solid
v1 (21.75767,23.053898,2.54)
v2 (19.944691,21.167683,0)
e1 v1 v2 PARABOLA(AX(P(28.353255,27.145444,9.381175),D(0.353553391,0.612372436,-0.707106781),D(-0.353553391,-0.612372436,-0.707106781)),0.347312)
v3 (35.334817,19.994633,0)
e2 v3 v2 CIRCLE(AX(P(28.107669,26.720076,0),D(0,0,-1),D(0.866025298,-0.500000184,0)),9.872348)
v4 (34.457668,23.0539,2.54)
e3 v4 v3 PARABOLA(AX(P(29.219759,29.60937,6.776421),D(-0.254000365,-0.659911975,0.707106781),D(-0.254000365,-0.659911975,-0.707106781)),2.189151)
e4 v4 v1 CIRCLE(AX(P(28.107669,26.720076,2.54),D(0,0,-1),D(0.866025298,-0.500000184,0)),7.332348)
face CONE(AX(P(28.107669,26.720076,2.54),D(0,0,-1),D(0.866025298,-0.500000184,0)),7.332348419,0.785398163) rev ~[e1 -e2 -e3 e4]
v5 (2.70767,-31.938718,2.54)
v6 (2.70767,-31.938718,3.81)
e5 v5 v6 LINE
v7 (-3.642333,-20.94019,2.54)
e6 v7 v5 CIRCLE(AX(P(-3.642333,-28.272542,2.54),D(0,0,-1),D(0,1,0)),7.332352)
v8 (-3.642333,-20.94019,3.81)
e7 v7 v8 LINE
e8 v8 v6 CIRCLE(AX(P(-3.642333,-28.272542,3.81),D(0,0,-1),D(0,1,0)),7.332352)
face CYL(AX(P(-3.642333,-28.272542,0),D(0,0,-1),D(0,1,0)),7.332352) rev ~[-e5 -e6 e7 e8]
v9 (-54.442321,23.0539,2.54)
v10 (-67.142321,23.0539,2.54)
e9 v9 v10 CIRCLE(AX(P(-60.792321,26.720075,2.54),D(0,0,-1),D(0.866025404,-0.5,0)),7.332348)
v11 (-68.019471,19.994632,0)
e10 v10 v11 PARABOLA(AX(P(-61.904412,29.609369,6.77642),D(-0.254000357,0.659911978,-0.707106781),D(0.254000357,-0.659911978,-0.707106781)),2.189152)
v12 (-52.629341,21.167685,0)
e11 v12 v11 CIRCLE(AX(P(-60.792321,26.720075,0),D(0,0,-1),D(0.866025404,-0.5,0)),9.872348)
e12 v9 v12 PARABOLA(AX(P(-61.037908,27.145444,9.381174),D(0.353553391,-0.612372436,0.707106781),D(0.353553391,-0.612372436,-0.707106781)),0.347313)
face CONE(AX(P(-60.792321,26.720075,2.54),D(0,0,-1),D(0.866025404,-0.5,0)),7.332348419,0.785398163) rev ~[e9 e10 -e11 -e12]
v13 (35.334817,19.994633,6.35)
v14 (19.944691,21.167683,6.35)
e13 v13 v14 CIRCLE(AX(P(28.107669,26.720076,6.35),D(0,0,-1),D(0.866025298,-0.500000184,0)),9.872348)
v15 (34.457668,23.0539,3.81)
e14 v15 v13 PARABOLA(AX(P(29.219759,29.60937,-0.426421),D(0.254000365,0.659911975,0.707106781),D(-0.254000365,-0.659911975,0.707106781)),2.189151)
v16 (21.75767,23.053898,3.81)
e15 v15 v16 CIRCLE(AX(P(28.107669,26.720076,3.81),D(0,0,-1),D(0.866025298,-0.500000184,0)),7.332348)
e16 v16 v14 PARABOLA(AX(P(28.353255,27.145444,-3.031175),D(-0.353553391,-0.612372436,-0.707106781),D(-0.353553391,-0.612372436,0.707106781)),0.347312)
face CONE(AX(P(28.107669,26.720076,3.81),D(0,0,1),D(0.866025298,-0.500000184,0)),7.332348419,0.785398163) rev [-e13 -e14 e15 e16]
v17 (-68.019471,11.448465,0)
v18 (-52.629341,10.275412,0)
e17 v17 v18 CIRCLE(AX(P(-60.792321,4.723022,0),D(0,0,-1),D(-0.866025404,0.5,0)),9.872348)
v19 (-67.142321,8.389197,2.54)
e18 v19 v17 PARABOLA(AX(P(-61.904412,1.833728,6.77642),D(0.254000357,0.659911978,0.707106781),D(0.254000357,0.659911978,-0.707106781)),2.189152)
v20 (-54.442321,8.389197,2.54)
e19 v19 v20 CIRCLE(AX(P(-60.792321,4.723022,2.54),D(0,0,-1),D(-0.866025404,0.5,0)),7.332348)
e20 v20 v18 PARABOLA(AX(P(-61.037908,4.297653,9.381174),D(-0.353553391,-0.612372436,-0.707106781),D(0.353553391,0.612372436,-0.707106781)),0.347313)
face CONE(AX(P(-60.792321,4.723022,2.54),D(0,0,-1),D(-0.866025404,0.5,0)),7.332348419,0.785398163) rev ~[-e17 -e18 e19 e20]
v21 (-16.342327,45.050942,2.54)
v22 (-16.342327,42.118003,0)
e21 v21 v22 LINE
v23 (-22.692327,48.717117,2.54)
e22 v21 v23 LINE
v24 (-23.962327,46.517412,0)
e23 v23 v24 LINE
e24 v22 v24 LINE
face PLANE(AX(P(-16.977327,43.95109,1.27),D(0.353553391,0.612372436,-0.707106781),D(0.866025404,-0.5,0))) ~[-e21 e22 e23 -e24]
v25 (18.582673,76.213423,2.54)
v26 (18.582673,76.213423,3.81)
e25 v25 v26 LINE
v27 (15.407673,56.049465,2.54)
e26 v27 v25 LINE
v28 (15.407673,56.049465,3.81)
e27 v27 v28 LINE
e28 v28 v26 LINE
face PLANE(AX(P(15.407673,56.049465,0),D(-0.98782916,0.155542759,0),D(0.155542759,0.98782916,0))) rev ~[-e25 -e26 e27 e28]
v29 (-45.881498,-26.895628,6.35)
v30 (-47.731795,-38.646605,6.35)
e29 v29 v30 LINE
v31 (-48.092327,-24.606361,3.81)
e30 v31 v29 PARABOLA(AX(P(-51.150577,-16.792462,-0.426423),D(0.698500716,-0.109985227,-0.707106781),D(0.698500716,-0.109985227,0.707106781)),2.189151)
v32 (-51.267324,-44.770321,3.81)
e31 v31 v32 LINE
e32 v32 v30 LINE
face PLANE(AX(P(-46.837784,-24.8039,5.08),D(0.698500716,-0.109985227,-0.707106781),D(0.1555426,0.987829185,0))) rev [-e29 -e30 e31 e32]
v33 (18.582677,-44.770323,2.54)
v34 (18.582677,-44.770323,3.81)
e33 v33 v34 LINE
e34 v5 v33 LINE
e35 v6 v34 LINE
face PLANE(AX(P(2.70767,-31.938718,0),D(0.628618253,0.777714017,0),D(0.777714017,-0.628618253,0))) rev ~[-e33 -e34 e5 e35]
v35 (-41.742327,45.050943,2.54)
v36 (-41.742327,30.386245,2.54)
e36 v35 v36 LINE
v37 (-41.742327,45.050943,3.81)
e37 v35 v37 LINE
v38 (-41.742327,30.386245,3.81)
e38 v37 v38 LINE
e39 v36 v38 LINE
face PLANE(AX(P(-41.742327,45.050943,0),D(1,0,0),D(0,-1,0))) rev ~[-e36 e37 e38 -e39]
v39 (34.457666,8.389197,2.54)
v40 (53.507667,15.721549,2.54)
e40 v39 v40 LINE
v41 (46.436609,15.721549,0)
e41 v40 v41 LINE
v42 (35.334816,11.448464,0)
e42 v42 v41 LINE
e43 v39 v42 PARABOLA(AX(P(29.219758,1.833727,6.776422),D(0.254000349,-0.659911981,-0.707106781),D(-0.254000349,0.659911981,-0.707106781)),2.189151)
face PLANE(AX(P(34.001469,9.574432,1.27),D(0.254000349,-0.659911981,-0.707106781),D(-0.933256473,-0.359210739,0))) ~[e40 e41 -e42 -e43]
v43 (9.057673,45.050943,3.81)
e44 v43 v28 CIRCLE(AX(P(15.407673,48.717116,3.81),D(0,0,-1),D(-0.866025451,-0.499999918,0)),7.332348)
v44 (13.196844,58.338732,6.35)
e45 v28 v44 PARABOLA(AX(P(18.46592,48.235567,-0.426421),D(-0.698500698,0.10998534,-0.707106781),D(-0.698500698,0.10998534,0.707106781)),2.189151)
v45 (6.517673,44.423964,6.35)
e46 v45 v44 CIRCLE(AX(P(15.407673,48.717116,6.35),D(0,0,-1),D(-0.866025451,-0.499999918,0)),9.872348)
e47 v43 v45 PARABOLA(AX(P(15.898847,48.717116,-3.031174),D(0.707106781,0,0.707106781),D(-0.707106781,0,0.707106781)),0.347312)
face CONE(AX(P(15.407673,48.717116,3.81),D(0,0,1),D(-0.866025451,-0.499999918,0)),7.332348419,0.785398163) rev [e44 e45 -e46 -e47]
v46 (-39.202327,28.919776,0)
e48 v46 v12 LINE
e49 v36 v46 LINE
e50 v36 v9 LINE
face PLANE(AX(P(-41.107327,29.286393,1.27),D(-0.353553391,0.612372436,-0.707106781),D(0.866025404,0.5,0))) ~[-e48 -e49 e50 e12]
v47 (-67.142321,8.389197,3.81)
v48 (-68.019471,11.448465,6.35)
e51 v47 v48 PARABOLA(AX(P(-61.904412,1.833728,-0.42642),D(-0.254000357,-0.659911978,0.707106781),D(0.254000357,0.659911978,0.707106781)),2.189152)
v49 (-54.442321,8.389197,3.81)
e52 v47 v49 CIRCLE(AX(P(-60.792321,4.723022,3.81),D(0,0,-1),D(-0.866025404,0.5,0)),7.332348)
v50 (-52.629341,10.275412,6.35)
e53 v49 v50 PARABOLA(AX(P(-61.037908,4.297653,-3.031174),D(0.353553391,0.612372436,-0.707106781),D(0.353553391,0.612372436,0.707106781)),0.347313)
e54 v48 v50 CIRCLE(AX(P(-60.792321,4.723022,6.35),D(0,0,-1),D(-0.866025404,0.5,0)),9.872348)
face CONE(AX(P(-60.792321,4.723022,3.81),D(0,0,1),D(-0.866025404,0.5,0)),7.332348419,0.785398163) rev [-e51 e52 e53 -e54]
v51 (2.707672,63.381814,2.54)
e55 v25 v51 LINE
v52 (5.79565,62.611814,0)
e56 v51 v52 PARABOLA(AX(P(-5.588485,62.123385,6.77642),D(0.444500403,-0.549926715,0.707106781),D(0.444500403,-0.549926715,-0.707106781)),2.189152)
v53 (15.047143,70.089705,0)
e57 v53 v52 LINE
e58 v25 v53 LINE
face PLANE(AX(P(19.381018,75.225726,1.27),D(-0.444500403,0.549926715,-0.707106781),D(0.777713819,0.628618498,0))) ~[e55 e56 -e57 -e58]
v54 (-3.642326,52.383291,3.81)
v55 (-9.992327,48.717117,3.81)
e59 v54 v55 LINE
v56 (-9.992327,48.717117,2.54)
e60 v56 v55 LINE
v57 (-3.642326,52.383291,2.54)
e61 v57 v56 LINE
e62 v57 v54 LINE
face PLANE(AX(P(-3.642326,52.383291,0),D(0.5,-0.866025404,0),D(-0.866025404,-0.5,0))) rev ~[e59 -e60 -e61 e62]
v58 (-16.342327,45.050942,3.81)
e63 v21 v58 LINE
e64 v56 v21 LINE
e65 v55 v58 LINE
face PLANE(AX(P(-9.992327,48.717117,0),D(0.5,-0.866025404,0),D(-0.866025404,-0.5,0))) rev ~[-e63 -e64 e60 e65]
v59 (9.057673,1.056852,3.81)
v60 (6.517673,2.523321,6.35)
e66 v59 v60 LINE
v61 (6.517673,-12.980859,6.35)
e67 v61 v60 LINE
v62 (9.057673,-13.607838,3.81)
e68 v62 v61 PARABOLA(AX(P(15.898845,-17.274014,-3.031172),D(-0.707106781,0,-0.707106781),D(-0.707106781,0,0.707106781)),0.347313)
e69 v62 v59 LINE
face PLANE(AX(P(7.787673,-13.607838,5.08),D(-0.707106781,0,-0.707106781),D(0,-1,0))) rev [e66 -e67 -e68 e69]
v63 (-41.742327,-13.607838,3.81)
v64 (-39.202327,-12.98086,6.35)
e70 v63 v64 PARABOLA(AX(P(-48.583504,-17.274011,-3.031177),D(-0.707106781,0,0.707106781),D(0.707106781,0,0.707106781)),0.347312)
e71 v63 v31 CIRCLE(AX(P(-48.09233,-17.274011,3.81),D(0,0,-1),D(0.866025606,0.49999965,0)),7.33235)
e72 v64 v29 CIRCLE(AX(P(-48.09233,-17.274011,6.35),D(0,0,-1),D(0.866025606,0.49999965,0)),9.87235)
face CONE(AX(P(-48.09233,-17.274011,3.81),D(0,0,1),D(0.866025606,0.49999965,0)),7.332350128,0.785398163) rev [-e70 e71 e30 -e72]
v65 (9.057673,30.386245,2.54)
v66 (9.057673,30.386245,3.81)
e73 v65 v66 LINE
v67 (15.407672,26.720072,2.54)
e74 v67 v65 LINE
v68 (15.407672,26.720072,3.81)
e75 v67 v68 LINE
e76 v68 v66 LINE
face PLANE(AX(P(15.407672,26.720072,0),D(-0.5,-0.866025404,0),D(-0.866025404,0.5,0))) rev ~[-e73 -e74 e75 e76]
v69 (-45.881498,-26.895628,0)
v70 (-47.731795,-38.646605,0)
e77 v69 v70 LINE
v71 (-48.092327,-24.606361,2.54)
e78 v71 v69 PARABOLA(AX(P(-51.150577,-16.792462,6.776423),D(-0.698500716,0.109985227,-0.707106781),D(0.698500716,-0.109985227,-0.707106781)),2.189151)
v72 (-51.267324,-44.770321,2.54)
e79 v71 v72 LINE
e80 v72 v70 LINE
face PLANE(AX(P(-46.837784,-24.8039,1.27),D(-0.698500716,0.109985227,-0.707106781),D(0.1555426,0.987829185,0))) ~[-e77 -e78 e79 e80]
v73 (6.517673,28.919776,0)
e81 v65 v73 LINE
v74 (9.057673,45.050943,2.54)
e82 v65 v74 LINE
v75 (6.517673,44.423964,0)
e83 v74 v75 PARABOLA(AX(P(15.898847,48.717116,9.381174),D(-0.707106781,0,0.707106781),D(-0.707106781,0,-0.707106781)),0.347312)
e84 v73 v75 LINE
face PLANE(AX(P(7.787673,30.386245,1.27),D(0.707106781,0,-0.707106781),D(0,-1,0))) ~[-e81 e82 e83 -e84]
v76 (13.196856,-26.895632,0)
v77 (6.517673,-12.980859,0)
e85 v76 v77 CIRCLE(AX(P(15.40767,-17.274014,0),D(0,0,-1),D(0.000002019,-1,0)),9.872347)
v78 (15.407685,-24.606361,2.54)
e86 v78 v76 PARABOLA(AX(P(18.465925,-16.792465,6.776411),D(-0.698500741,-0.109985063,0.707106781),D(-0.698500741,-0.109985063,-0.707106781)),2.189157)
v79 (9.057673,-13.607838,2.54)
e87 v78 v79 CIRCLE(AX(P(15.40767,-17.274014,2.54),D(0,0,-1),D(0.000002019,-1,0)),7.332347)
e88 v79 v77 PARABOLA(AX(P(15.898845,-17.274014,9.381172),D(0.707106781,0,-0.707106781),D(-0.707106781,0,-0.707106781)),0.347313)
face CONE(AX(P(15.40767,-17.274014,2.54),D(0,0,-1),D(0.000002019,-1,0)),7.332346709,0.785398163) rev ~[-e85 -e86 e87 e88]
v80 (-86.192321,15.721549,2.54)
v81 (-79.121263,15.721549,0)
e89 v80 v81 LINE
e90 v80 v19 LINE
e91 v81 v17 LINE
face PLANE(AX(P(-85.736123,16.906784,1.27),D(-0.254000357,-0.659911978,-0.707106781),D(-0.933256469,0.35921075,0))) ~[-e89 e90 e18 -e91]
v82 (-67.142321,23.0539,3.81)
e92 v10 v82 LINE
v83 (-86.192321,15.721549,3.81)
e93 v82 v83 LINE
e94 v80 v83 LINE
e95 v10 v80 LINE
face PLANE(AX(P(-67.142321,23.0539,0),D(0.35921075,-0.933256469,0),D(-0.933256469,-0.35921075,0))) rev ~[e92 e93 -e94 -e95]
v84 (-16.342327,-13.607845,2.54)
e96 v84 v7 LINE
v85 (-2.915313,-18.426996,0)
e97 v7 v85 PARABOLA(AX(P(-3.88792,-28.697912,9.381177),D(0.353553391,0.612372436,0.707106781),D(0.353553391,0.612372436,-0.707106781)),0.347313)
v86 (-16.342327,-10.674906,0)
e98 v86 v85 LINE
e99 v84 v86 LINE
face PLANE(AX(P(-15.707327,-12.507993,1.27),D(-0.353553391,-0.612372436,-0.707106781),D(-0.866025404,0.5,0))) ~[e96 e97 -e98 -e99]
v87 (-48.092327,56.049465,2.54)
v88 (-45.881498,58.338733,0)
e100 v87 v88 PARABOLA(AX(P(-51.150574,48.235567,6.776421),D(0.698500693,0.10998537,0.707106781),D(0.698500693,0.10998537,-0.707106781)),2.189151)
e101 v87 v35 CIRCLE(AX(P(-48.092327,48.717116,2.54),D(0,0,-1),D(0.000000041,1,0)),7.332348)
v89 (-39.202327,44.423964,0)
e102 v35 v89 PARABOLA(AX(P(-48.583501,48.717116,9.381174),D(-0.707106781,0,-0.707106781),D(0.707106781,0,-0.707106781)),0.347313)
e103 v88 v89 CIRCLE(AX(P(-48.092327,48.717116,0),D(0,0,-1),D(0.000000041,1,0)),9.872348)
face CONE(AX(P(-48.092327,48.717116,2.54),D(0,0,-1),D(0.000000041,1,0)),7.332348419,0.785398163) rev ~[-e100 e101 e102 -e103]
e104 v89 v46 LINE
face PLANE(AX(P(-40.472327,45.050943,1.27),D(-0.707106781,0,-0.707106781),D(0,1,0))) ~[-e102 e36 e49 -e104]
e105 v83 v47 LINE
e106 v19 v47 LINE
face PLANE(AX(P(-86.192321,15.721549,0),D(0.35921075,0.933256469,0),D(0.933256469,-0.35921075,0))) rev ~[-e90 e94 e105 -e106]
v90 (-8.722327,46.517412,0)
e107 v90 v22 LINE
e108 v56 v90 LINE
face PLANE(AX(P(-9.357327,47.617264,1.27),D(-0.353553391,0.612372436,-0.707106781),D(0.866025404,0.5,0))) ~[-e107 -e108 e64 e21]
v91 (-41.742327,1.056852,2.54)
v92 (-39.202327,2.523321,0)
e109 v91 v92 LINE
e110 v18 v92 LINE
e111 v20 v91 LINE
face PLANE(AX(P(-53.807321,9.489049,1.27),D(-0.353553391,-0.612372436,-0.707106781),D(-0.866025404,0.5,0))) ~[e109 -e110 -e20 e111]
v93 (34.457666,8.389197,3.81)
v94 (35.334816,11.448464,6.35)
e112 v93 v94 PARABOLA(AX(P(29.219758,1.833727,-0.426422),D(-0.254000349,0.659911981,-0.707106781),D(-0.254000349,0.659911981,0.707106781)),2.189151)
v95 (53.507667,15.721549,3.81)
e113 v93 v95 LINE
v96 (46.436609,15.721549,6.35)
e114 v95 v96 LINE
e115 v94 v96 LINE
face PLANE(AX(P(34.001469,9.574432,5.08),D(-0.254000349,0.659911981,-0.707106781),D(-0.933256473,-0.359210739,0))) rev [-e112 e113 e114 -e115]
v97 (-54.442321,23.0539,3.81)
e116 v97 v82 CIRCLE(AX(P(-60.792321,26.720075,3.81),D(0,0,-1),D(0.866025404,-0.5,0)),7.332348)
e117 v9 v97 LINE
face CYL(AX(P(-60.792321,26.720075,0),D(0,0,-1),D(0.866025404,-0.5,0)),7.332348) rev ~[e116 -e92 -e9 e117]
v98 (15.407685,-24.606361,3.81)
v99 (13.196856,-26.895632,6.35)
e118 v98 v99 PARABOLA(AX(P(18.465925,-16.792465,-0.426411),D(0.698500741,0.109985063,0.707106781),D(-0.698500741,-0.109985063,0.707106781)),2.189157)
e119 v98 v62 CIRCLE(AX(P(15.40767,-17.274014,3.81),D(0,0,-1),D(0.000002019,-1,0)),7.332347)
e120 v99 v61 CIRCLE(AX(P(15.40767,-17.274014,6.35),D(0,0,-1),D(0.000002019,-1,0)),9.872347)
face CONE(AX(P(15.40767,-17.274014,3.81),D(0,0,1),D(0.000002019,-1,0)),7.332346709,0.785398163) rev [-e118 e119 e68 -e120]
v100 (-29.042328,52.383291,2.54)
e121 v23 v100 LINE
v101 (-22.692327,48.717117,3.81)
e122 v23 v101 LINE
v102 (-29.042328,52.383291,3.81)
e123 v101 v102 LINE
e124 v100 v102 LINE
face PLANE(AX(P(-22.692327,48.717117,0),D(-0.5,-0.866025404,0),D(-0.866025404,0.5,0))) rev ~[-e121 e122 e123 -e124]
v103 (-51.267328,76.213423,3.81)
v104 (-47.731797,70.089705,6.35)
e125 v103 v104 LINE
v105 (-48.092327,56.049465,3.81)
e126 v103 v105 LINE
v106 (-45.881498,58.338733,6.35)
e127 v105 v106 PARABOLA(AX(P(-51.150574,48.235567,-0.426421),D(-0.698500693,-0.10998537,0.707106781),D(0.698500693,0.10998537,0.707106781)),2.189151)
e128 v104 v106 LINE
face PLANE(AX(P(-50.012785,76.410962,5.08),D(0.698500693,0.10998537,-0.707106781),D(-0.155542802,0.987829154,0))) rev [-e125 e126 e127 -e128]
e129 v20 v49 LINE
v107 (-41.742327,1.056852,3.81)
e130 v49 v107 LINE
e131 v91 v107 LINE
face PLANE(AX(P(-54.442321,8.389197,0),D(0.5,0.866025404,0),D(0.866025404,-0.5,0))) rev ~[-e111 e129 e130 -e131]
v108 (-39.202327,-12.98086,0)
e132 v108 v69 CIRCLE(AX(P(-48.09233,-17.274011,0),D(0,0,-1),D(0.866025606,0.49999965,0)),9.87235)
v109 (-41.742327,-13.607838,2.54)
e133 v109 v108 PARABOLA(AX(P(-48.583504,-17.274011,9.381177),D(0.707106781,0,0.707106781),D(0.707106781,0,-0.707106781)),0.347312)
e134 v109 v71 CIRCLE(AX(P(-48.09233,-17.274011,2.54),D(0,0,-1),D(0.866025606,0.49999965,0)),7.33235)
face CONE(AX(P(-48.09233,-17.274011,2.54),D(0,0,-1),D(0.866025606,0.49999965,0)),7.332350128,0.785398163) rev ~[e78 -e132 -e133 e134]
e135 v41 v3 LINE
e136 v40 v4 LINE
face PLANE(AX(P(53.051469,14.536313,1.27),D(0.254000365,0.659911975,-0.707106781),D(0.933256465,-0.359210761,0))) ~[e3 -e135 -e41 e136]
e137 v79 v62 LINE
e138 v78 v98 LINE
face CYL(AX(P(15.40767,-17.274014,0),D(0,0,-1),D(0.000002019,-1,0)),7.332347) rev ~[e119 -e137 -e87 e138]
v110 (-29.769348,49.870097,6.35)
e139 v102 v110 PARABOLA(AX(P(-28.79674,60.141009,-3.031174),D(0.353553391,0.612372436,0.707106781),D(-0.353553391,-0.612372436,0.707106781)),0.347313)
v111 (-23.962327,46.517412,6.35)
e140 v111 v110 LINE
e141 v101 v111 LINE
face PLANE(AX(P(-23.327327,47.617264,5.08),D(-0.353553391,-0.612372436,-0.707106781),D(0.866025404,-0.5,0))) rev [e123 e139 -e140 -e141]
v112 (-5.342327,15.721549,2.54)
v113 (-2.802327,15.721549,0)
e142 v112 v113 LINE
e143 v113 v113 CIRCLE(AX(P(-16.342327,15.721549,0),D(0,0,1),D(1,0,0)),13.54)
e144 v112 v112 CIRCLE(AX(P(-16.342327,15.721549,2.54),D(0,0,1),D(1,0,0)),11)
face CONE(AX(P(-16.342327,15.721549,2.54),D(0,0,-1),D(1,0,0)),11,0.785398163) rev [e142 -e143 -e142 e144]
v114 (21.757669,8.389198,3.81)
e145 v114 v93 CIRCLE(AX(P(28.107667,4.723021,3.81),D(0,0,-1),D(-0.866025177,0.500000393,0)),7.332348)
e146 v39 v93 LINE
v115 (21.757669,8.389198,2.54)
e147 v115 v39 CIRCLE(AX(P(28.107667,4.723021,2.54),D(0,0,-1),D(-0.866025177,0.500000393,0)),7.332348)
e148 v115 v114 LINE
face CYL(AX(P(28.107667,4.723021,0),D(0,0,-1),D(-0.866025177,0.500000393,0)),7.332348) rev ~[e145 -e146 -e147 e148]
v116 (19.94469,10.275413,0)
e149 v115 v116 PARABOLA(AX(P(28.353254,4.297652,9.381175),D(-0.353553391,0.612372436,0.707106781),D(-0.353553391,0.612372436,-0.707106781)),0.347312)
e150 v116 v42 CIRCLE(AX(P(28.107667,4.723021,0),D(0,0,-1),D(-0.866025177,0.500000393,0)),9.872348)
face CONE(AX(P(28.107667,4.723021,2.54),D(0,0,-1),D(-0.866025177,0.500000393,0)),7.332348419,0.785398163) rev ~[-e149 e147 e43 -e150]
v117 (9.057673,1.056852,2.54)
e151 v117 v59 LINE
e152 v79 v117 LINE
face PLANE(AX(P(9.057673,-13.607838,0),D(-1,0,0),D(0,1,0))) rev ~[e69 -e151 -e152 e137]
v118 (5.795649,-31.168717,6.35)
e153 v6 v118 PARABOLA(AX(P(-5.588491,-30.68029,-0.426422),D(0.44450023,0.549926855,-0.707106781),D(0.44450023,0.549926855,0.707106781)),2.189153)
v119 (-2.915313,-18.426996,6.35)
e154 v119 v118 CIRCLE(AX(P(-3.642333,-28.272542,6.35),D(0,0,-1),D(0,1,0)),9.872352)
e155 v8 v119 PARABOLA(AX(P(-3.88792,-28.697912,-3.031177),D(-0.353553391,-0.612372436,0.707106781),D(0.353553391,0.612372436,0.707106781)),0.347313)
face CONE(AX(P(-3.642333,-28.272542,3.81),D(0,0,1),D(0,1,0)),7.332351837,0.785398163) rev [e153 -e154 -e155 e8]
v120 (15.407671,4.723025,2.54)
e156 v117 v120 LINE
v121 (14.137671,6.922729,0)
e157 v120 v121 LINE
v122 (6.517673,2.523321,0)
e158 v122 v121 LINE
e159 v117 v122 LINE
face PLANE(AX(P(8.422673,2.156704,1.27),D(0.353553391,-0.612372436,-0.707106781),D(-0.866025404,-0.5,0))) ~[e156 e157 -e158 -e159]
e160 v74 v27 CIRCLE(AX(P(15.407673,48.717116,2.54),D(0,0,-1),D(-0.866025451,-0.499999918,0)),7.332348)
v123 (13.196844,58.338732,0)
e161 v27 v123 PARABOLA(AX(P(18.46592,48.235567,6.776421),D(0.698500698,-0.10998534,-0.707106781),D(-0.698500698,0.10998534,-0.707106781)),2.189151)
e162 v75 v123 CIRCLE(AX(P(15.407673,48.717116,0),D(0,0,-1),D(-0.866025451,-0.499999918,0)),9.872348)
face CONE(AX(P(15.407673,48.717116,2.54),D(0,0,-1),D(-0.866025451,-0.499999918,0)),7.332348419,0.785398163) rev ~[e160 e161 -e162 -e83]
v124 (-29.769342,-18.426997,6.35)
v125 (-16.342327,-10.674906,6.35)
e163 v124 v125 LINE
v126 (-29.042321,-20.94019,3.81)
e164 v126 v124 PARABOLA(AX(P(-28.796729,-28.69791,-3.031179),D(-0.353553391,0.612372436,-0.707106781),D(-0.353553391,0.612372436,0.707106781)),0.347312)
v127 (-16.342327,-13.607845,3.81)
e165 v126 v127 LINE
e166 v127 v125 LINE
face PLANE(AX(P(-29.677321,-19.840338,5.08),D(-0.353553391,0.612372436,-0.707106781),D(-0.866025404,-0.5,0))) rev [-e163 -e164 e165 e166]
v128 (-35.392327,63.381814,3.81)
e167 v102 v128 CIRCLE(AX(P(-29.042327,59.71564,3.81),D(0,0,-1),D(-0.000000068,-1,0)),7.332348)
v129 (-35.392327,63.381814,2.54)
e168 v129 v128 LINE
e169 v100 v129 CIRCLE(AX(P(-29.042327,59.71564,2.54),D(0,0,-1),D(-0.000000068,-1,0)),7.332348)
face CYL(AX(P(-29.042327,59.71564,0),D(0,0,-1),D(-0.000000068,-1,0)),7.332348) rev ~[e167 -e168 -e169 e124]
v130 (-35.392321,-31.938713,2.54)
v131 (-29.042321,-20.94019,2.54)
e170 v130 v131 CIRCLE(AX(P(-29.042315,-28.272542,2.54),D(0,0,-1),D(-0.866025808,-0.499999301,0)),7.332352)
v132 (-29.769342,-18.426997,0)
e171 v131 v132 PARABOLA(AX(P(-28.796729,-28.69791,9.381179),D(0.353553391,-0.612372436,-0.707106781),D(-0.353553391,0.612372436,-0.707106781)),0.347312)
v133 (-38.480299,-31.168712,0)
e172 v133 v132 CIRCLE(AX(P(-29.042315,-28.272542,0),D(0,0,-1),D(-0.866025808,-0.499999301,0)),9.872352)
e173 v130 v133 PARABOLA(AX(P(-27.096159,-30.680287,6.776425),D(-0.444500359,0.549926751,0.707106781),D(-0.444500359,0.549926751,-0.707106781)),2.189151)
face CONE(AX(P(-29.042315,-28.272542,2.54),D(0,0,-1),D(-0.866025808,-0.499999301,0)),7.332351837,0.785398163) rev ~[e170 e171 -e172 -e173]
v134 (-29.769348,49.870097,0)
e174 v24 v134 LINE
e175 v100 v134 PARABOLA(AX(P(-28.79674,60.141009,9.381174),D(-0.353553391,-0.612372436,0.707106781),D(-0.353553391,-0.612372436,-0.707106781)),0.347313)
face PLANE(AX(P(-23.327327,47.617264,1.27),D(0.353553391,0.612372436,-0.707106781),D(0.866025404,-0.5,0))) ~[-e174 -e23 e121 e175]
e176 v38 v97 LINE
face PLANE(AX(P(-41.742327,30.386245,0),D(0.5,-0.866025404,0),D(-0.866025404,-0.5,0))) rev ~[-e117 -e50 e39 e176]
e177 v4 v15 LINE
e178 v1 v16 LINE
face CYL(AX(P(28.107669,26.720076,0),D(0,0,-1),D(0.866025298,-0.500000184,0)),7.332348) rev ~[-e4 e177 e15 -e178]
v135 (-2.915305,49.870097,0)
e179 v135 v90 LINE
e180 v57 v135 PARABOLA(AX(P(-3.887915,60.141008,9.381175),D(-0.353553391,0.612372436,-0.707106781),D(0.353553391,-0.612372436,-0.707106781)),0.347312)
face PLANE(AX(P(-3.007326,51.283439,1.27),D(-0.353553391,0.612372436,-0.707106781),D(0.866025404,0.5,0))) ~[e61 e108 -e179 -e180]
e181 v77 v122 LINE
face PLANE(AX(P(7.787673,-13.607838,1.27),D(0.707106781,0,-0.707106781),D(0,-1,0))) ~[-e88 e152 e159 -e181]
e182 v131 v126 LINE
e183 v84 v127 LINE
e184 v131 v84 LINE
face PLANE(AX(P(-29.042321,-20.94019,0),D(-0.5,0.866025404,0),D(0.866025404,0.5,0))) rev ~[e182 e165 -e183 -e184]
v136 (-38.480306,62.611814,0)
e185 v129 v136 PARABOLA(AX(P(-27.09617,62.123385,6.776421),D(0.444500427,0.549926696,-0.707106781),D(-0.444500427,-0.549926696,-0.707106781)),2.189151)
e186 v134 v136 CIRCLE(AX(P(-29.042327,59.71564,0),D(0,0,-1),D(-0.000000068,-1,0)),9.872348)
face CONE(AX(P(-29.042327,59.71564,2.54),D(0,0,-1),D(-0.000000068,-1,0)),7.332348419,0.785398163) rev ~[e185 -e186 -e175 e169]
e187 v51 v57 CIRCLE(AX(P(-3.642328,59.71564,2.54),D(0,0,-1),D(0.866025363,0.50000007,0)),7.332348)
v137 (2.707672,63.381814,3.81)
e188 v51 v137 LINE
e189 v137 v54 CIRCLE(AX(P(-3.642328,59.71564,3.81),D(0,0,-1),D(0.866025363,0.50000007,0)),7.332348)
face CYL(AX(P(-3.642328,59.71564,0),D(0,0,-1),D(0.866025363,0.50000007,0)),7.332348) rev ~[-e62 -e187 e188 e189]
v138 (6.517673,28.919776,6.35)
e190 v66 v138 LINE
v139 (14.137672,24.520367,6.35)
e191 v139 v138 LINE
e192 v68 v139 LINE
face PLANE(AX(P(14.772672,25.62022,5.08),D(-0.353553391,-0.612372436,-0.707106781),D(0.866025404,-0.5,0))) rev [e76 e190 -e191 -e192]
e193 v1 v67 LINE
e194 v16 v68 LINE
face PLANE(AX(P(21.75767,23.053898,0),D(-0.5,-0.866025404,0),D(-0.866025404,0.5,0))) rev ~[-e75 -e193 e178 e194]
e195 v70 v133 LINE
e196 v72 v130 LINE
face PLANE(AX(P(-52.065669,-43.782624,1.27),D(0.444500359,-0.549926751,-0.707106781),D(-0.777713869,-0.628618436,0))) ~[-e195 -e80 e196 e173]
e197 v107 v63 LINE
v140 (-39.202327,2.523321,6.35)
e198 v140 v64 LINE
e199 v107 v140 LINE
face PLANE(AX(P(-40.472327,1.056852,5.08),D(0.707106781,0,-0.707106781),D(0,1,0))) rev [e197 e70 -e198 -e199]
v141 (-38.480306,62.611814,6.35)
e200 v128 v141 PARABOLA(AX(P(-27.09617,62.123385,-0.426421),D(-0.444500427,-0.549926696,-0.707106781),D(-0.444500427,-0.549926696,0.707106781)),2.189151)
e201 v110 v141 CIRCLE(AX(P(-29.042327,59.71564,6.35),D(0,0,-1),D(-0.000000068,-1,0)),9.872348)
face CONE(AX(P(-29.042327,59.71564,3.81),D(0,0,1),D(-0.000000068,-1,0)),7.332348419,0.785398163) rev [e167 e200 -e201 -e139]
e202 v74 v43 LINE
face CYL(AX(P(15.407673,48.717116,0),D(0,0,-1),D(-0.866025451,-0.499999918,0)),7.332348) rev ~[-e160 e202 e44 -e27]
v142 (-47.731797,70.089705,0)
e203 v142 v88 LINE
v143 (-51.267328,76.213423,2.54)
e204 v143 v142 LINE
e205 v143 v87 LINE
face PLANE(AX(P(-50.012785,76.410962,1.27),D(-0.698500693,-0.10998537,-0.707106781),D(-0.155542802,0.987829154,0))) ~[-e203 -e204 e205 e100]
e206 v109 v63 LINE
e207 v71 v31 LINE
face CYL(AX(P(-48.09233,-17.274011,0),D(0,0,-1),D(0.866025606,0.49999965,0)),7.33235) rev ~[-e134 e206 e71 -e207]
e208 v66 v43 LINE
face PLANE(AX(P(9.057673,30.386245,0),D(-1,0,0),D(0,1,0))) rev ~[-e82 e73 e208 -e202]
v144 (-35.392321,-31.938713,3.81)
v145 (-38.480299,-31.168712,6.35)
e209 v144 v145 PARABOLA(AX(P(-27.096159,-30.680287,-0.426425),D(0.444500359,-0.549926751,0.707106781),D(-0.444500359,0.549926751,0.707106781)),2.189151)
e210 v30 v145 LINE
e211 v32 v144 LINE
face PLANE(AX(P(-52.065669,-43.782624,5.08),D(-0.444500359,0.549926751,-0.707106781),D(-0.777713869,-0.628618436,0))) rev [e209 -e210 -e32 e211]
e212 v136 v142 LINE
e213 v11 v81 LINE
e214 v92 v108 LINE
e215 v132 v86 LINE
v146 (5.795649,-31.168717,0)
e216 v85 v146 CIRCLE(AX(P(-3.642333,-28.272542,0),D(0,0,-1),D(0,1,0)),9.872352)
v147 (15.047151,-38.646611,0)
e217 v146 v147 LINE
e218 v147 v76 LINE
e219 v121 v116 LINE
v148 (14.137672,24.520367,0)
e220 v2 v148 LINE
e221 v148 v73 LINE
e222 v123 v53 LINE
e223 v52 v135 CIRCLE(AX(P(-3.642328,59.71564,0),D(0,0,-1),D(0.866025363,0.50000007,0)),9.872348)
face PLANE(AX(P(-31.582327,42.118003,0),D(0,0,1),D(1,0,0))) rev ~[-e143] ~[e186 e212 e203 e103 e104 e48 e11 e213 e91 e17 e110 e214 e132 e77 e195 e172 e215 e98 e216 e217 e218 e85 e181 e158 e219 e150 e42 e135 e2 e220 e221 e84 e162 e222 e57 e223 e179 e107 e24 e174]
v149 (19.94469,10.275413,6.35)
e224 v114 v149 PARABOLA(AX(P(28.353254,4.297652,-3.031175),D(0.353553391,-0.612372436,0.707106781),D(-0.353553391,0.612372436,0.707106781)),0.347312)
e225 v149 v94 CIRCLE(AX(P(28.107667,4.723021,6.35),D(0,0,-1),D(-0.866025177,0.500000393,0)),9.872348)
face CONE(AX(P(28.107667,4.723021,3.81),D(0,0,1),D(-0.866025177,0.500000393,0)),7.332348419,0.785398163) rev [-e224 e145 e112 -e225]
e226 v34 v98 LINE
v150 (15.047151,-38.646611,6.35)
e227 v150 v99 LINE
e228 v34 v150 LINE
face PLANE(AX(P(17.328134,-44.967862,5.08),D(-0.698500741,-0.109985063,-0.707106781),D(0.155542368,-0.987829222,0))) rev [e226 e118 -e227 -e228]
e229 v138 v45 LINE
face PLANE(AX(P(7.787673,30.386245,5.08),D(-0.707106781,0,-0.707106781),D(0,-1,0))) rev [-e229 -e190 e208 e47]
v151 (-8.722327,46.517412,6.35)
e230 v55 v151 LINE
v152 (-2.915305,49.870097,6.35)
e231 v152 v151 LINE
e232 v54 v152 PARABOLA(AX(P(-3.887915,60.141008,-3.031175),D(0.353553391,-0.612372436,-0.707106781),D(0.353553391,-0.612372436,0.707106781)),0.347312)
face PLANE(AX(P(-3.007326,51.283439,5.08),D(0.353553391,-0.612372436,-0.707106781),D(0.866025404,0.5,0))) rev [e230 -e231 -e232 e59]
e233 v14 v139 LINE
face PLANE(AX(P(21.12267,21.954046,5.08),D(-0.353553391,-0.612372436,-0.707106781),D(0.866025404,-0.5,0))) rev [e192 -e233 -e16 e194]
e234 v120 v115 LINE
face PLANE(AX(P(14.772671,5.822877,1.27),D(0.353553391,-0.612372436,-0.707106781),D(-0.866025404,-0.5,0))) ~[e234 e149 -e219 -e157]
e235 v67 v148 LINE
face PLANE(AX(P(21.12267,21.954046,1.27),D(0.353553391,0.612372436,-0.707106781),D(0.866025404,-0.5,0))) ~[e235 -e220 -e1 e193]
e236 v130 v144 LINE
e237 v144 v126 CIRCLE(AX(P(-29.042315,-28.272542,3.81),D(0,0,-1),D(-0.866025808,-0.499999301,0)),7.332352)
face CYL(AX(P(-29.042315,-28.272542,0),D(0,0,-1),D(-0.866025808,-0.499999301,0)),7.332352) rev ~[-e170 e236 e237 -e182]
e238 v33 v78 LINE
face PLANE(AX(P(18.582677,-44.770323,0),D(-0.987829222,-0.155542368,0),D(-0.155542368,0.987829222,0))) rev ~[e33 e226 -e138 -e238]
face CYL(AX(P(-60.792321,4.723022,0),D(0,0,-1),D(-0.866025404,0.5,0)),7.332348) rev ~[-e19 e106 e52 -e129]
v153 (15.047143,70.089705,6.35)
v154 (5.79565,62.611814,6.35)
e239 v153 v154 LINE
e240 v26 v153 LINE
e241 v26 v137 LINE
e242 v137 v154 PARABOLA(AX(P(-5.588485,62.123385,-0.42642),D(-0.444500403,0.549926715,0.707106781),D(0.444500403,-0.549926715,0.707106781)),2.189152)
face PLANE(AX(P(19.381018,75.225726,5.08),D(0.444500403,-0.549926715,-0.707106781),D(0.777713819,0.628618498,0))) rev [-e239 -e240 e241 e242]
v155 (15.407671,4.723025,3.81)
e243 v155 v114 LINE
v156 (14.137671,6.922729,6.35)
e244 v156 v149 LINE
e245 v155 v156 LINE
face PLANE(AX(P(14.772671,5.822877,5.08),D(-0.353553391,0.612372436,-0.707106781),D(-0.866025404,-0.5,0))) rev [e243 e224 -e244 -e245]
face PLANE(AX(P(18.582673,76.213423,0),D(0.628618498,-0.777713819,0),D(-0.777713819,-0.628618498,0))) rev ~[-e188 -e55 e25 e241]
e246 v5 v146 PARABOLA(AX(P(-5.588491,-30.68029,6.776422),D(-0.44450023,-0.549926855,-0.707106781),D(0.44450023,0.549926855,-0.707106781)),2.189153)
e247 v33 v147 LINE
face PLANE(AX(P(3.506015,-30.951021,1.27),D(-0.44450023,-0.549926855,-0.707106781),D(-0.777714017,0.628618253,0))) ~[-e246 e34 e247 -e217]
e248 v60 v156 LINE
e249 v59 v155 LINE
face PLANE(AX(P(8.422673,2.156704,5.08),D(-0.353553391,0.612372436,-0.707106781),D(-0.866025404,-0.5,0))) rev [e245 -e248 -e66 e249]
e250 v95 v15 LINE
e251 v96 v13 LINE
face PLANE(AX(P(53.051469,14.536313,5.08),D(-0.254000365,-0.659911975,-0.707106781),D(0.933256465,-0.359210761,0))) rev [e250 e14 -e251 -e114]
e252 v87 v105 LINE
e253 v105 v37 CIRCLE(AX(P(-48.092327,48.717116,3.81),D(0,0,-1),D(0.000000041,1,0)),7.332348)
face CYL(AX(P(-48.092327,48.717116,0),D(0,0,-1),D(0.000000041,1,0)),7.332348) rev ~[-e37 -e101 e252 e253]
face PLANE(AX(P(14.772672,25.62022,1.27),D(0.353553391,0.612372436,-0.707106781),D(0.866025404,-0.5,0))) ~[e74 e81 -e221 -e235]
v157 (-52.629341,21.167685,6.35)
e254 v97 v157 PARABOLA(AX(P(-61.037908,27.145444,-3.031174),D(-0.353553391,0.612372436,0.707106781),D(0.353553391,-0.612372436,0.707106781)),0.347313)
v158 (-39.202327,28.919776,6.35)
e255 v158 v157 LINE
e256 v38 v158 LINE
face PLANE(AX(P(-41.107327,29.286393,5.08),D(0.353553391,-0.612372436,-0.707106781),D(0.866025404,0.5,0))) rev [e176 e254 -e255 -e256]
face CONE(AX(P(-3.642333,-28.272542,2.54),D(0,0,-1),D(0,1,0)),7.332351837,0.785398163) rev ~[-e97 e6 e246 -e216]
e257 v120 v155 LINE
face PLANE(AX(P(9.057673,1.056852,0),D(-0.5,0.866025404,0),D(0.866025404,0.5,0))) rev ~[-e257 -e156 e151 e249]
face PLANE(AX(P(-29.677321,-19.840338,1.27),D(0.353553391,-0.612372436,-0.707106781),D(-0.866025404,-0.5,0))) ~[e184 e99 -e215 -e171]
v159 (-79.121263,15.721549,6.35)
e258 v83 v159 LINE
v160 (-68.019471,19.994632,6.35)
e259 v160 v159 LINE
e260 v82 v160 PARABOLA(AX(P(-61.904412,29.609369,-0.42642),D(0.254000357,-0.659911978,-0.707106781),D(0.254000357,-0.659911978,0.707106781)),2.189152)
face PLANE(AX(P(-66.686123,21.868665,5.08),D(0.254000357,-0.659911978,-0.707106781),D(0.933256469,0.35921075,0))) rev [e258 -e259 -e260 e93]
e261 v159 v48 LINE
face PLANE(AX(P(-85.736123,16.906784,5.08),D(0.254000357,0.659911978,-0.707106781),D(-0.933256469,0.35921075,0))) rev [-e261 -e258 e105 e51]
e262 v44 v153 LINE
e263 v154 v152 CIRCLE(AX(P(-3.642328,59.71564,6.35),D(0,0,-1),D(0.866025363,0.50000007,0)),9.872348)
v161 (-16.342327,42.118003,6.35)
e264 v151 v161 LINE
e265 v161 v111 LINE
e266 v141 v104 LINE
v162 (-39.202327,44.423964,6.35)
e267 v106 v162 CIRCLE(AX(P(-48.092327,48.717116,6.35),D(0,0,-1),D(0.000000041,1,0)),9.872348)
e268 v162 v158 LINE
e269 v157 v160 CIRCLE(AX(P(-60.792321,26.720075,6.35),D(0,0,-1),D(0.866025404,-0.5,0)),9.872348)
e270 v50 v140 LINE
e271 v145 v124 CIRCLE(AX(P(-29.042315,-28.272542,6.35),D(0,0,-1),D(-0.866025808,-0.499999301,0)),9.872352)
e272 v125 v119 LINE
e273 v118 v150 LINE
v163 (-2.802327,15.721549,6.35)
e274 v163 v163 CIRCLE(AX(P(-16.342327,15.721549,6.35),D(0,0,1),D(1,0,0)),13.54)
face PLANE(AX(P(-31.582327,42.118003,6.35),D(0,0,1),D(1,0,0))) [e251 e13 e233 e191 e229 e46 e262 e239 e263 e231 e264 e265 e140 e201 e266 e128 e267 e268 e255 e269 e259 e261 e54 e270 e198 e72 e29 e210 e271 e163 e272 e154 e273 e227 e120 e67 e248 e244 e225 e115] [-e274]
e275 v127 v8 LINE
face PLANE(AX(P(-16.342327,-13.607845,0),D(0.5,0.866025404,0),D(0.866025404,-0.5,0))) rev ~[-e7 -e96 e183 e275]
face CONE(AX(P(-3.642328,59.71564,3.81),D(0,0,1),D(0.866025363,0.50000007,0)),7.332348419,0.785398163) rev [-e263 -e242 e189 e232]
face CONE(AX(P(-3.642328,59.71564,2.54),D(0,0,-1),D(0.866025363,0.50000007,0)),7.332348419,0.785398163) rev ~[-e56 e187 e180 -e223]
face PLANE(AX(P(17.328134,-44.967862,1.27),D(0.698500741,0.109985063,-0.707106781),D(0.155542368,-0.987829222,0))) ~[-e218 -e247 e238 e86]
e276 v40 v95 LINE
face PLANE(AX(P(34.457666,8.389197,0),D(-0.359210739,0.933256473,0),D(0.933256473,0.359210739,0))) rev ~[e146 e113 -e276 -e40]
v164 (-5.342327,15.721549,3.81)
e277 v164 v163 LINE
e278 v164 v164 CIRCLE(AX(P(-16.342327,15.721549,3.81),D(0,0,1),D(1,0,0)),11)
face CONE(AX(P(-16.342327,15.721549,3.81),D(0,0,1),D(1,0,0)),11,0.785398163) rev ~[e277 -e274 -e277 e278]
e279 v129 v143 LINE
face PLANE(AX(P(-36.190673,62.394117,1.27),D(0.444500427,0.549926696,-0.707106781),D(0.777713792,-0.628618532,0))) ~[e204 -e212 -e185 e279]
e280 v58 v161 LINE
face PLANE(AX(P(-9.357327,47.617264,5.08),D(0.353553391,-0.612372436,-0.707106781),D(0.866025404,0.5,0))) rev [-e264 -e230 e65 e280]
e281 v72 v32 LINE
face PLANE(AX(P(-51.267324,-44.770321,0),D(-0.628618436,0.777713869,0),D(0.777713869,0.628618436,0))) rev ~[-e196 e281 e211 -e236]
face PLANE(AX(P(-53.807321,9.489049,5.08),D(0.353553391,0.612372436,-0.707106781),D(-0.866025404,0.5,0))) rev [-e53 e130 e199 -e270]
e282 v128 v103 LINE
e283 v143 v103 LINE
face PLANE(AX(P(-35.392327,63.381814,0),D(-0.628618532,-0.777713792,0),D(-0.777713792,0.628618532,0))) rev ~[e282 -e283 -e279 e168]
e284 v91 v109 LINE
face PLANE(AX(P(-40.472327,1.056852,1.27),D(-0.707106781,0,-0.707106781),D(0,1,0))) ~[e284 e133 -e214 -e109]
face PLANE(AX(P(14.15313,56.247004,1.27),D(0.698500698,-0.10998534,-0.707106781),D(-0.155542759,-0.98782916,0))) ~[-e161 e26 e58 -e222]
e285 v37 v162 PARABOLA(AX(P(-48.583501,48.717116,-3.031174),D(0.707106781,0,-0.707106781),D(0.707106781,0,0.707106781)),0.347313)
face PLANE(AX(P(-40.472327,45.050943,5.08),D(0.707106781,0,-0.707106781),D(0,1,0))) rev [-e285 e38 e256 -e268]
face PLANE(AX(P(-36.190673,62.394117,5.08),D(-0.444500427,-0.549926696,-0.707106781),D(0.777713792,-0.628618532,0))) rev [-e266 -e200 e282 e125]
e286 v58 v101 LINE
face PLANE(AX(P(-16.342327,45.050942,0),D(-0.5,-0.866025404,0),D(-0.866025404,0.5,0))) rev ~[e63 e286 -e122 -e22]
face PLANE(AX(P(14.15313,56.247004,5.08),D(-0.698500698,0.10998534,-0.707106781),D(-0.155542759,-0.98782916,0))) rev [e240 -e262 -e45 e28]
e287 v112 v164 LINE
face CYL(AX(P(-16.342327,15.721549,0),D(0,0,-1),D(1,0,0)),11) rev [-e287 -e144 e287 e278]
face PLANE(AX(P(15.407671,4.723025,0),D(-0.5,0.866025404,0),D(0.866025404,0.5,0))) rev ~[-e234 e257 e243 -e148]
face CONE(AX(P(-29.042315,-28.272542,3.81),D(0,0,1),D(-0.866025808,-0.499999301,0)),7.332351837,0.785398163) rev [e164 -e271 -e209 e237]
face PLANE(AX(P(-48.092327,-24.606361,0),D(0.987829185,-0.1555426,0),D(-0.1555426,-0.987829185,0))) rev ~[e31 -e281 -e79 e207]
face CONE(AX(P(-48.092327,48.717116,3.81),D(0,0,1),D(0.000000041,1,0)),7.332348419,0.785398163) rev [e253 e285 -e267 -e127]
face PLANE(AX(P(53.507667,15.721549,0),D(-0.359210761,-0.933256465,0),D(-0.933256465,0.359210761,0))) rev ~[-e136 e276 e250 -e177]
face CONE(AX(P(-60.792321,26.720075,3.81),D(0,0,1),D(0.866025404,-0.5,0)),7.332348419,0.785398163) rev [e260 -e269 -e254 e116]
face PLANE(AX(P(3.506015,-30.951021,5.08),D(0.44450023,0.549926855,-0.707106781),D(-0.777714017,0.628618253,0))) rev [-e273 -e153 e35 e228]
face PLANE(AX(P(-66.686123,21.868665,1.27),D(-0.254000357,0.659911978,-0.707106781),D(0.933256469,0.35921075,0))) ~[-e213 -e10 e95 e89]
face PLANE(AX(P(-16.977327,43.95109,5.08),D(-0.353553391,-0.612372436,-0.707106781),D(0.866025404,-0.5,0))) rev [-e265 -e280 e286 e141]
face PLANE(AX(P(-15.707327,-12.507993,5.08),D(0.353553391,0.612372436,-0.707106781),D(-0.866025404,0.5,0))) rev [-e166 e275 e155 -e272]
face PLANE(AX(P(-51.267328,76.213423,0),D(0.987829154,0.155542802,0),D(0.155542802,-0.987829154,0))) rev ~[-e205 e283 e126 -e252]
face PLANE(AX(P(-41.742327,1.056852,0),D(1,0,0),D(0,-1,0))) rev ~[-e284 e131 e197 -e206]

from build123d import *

# Parameters (mm, degrees)
F0_R     = 11
F1_DEPTH = 6.35
F2_SIZE  = 2.54


with BuildPart() as f1:
    # F0 (on Top) → F1 (new body)
    with BuildSketch(Plane.XY):
        Polygon((-41.7423269987, 30.386245353), (-16.3423269987, 45.0509421904), (-22.6923274444, 48.717116657), (-29.0423278901, 52.3832911237), (-41.7423269987, 45.0509425335), (-41.7423269987, 37.7185939432), align=None)
        Polygon((9.0576730013, 1.0568516781), (9.0576730013, 30.386245353), (-16.3423269987, 45.0509421904), (-41.7423269987, 30.386245353), (-41.7423269987, 1.0568516781), (-16.3423269987, -13.6078451593), align=None)
        with Locations((-16.3423269987, 15.7215485155)):
            Circle(F0_R, mode=Mode.SUBTRACT)
        Polygon((-41.7423269987, 1.0568516781), (-41.7423269987, 30.386245353), (-48.092324038, 26.720072853), (-54.4423210773, 23.053900353), (-54.4423210773, 8.3891966781), (-48.092324038, 4.7230241781), align=None)
        Polygon((-22.692324038, -17.2740176593), (-16.3423269987, -13.6078451593), (-41.7423269987, 1.0568516781), (-41.7423269987, -6.2754933219), (-41.7423269987, -13.6078383219), (-29.0423210773, -20.9401901593), align=None)
        Polygon((9.0576730013, -6.2754933219), (9.0576730013, 1.0568516781), (-16.3423269987, -13.6078451593), (-9.9923299594, -17.2740176593), (-3.6423329201, -20.9401901593), (9.0576730013, -13.6078383219), align=None)
        Polygon((15.4076717053, 26.7200718918), (9.0576730013, 30.386245353), (9.0576730013, 1.0568516781), (15.4076710394, 4.7230247548), (21.7576690776, 8.3891978315), (21.7576704094, 23.0538984307), align=None)
        Polygon((-16.3423269987, 45.0509421904), (9.0576730013, 30.386245353), (9.0576730013, 37.7185939432), (9.0576730013, 45.0509425335), (-3.6423261074, 52.3832911237), (-9.992326553, 48.717116657), align=None)
        Polygon((-35.3923274444, 63.381813666), (-51.2673278158, 76.2134228412), (-41.7423271473, 59.7156392851), align=None)
        Polygon((-41.7423271473, 59.7156392851), (-51.2673278158, 76.2134228412), (-48.0923268502, 56.0494649042), align=None)
        with BuildLine():
            Line((-41.7423269987, 45.0509425335), (-29.0423278901, 52.3832911237))
            ThreePointArc((-29.0423278901, 52.3832911237), (-35.3923274939, 56.0494655046), (-35.3923274444, 63.381813666))
            Line((-35.3923274444, 63.381813666), (-41.7423271473, 59.7156392851))
            Line((-41.7423271473, 59.7156392851), (-48.0923268502, 56.0494649042))
            ThreePointArc((-48.0923268502, 56.0494649042), (-41.7423271473, 52.3832906948), (-41.7423269987, 45.0509425335))
        make_face()
        Polygon((-67.1423210773, 23.053900353), (-86.1923210773, 15.7215485155), (-67.1423210773, 15.7215485155), align=None)
        Polygon((-67.1423210773, 15.7215485155), (-86.1923210773, 15.7215485155), (-67.1423210773, 8.3891966781), align=None)
        with BuildLine():
            Line((-54.4423210773, 8.3891966781), (-54.4423210773, 23.053900353))
            ThreePointArc((-54.4423210773, 23.053900353), (-60.7923210773, 19.3877261436), (-67.1423210773, 23.053900353))
            Line((-67.1423210773, 23.053900353), (-67.1423210773, 15.7215485155))
            Line((-67.1423210773, 15.7215485155), (-67.1423210773, 8.3891966781))
            ThreePointArc((-67.1423210773, 8.3891966781), (-60.7923210773, 12.0553708875), (-54.4423210773, 8.3891966781))
        make_face()
        with BuildLine():
            ThreePointArc((-35.3923210773, -31.9387127874), (-35.3923181166, -24.606366078), (-29.0423210773, -20.9401901593))
            Line((-29.0423210773, -20.9401901593), (-41.7423269987, -13.6078383219))
            ThreePointArc((-41.7423269987, -13.6078383219), (-41.7423284791, -20.9401858859), (-48.0923269987, -24.6063609499))
            Line((-48.0923269987, -24.6063609499), (-41.742324038, -28.2725368686))
            Line((-41.742324038, -28.2725368686), (-35.3923210773, -31.9387127874))
        make_face()
        Polygon((-48.0923269987, -24.6063609499), (-51.267324038, -44.7703208107), (-41.742324038, -28.2725368686), align=None)
        Polygon((-51.267324038, -44.7703208107), (-35.3923210773, -31.9387127874), (-41.742324038, -28.2725368686), align=None)
        Polygon((18.5826774423, -44.7703233748), (15.4076848441, -24.6063609499), (9.0576774423, -28.2725394327), align=None)
        Polygon((2.7076700406, -31.9387179154), (18.5826774423, -44.7703233748), (9.0576774423, -28.2725394327), align=None)
        with BuildLine():
            ThreePointArc((15.4076848441, -24.6063609499), (9.0576744816, -20.9401927233), (9.0576730013, -13.6078383219))
            Line((9.0576730013, -13.6078383219), (-3.6423329201, -20.9401901593))
            ThreePointArc((-3.6423329201, -20.9401901593), (2.7076700406, -24.606366078), (2.7076700406, -31.9387179154))
            Line((2.7076700406, -31.9387179154), (9.0576774423, -28.2725394327))
            Line((9.0576774423, -28.2725394327), (15.4076848441, -24.6063609499))
        make_face()
        Polygon((34.457666414, 8.3891966781), (53.5076670799, 15.7215485155), (34.4576670799, 15.7215485155), align=None)
        with BuildLine():
            ThreePointArc((34.4576677458, 23.053900353), (28.1076696325, 19.3877274892), (21.7576704094, 23.0538984307))
            Line((21.7576704094, 23.0538984307), (21.7576690776, 8.3891978315))
            ThreePointArc((21.7576690776, 8.3891978315), (28.1076680788, 12.0553691574), (34.457666414, 8.3891966781))
            Line((34.457666414, 8.3891966781), (34.4576670799, 15.7215485155))
            Line((34.4576670799, 15.7215485155), (34.4576677458, 23.053900353))
        make_face()
        Polygon((34.4576670799, 15.7215485155), (53.5076670799, 15.7215485155), (34.4576677458, 23.053900353), align=None)
        with BuildLine():
            Line((-3.6423261074, 52.3832911237), (9.0576730013, 45.0509425335))
            ThreePointArc((9.0576730013, 45.0509425335), (9.0576733974, 52.3832904375), (15.4076728527, 56.0494645611))
            Line((15.4076728527, 56.0494645611), (9.0576723328, 59.7156394138))
            Line((9.0576723328, 59.7156394138), (2.7076718128, 63.3818142664))
            ThreePointArc((2.7076718128, 63.3818142664), (2.7076727042, 56.0494663623), (-3.6423261074, 52.3832911237))
        make_face()
        Polygon((9.0576723328, 59.7156394138), (18.5826730013, 76.2134229699), (2.7076718128, 63.3818142664), align=None)
        Polygon((9.0576723328, 59.7156394138), (15.4076728527, 56.0494645611), (18.5826730013, 76.2134229699), align=None)
    extrude(amount=F1_DEPTH)

    # F2
    f2_edges = [f1.edges().sort_by_distance(p)[0] for p in [
        (-41.742327, 37.718594, 6.35),
        (-48.092324, 26.720073, 6.35),
        (-60.792321, 19.387726, 6.35),
        (-76.667321, 19.387724, 6.35),
        (-76.667321, 12.055373, 6.35),
        (-60.792321, 12.055371, 6.35),
        (-48.092324, 4.723024, 6.35),
        (-41.742327, -6.275493, 6.35),
        (-41.742328, -20.940186, 6.35),
        (-49.679826, -34.688341, 6.35),
        (-43.329823, -38.354517, 6.35),
        (-35.392318, -24.606366, 6.35),
        (-22.692324, -17.274018, 6.35),
        (-9.99233, -17.274018, 6.35),
        (2.70767, -24.606366, 6.35),
        (10.645174, -38.354521, 6.35),
        (16.995181, -34.688342, 6.35),
        (9.057674, -20.940193, 6.35),
        (9.057673, -6.275493, 6.35),
        (15.407671, 4.723025, 6.35),
        (28.107668, 12.055369, 6.35),
        (43.982667, 12.055373, 6.35),
        (43.982667, 19.387724, 6.35),
        (28.10767, 19.387727, 6.35),
        (15.407672, 26.720072, 6.35),
        (9.057673, 37.718594, 6.35),
        (9.057673, 52.38329, 6.35),
        (16.995173, 66.131444, 6.35),
        (10.645172, 69.797619, 6.35),
        (2.707673, 56.049466, 6.35),
        (-9.992327, 48.717117, 6.35),
        (-22.692327, 48.717117, 6.35),
        (-35.392327, 56.049466, 6.35),
        (-43.329828, 69.797618, 6.35),
        (-49.679827, 66.131444, 6.35),
        (-41.742327, 52.383291, 6.35),
        (-27.342327, 15.721549, 6.35),
        (-41.742327, 37.718594, 0),
        (-48.092324, 26.720073, 0),
        (-60.792321, 19.387726, 0),
        (-76.667321, 19.387724, 0),
        (-76.667321, 12.055373, 0),
        (-60.792321, 12.055371, 0),
        (-48.092324, 4.723024, 0),
        (-41.742327, -6.275493, 0),
        (-41.742328, -20.940186, 0),
        (-49.679826, -34.688341, 0),
        (-43.329823, -38.354517, 0),
        (-35.392318, -24.606366, 0),
        (-22.692324, -17.274018, 0),
        (-9.99233, -17.274018, 0),
        (2.70767, -24.606366, 0),
        (10.645174, -38.354521, 0),
        (16.995181, -34.688342, 0),
        (9.057674, -20.940193, 0),
        (9.057673, -6.275493, 0),
        (15.407671, 4.723025, 0),
        (28.107668, 12.055369, 0),
        (43.982667, 12.055373, 0),
        (43.982667, 19.387724, 0),
        (28.10767, 19.387727, 0),
        (15.407672, 26.720072, 0),
        (9.057673, 37.718594, 0),
        (9.057673, 52.38329, 0),
        (16.995173, 66.131444, 0),
        (10.645172, 69.797619, 0),
        (2.707673, 56.049466, 0),
        (-9.992327, 48.717117, 0),
        (-22.692327, 48.717117, 0),
        (-35.392327, 56.049466, 0),
        (-43.329828, 69.797618, 0),
        (-49.679827, 66.131444, 0),
        (-41.742327, 52.383291, 0),
        (-27.342327, 15.721549, 0),
    ]]
    chamfer(f2_edges, length=F2_SIZE)


solid = f1.part
